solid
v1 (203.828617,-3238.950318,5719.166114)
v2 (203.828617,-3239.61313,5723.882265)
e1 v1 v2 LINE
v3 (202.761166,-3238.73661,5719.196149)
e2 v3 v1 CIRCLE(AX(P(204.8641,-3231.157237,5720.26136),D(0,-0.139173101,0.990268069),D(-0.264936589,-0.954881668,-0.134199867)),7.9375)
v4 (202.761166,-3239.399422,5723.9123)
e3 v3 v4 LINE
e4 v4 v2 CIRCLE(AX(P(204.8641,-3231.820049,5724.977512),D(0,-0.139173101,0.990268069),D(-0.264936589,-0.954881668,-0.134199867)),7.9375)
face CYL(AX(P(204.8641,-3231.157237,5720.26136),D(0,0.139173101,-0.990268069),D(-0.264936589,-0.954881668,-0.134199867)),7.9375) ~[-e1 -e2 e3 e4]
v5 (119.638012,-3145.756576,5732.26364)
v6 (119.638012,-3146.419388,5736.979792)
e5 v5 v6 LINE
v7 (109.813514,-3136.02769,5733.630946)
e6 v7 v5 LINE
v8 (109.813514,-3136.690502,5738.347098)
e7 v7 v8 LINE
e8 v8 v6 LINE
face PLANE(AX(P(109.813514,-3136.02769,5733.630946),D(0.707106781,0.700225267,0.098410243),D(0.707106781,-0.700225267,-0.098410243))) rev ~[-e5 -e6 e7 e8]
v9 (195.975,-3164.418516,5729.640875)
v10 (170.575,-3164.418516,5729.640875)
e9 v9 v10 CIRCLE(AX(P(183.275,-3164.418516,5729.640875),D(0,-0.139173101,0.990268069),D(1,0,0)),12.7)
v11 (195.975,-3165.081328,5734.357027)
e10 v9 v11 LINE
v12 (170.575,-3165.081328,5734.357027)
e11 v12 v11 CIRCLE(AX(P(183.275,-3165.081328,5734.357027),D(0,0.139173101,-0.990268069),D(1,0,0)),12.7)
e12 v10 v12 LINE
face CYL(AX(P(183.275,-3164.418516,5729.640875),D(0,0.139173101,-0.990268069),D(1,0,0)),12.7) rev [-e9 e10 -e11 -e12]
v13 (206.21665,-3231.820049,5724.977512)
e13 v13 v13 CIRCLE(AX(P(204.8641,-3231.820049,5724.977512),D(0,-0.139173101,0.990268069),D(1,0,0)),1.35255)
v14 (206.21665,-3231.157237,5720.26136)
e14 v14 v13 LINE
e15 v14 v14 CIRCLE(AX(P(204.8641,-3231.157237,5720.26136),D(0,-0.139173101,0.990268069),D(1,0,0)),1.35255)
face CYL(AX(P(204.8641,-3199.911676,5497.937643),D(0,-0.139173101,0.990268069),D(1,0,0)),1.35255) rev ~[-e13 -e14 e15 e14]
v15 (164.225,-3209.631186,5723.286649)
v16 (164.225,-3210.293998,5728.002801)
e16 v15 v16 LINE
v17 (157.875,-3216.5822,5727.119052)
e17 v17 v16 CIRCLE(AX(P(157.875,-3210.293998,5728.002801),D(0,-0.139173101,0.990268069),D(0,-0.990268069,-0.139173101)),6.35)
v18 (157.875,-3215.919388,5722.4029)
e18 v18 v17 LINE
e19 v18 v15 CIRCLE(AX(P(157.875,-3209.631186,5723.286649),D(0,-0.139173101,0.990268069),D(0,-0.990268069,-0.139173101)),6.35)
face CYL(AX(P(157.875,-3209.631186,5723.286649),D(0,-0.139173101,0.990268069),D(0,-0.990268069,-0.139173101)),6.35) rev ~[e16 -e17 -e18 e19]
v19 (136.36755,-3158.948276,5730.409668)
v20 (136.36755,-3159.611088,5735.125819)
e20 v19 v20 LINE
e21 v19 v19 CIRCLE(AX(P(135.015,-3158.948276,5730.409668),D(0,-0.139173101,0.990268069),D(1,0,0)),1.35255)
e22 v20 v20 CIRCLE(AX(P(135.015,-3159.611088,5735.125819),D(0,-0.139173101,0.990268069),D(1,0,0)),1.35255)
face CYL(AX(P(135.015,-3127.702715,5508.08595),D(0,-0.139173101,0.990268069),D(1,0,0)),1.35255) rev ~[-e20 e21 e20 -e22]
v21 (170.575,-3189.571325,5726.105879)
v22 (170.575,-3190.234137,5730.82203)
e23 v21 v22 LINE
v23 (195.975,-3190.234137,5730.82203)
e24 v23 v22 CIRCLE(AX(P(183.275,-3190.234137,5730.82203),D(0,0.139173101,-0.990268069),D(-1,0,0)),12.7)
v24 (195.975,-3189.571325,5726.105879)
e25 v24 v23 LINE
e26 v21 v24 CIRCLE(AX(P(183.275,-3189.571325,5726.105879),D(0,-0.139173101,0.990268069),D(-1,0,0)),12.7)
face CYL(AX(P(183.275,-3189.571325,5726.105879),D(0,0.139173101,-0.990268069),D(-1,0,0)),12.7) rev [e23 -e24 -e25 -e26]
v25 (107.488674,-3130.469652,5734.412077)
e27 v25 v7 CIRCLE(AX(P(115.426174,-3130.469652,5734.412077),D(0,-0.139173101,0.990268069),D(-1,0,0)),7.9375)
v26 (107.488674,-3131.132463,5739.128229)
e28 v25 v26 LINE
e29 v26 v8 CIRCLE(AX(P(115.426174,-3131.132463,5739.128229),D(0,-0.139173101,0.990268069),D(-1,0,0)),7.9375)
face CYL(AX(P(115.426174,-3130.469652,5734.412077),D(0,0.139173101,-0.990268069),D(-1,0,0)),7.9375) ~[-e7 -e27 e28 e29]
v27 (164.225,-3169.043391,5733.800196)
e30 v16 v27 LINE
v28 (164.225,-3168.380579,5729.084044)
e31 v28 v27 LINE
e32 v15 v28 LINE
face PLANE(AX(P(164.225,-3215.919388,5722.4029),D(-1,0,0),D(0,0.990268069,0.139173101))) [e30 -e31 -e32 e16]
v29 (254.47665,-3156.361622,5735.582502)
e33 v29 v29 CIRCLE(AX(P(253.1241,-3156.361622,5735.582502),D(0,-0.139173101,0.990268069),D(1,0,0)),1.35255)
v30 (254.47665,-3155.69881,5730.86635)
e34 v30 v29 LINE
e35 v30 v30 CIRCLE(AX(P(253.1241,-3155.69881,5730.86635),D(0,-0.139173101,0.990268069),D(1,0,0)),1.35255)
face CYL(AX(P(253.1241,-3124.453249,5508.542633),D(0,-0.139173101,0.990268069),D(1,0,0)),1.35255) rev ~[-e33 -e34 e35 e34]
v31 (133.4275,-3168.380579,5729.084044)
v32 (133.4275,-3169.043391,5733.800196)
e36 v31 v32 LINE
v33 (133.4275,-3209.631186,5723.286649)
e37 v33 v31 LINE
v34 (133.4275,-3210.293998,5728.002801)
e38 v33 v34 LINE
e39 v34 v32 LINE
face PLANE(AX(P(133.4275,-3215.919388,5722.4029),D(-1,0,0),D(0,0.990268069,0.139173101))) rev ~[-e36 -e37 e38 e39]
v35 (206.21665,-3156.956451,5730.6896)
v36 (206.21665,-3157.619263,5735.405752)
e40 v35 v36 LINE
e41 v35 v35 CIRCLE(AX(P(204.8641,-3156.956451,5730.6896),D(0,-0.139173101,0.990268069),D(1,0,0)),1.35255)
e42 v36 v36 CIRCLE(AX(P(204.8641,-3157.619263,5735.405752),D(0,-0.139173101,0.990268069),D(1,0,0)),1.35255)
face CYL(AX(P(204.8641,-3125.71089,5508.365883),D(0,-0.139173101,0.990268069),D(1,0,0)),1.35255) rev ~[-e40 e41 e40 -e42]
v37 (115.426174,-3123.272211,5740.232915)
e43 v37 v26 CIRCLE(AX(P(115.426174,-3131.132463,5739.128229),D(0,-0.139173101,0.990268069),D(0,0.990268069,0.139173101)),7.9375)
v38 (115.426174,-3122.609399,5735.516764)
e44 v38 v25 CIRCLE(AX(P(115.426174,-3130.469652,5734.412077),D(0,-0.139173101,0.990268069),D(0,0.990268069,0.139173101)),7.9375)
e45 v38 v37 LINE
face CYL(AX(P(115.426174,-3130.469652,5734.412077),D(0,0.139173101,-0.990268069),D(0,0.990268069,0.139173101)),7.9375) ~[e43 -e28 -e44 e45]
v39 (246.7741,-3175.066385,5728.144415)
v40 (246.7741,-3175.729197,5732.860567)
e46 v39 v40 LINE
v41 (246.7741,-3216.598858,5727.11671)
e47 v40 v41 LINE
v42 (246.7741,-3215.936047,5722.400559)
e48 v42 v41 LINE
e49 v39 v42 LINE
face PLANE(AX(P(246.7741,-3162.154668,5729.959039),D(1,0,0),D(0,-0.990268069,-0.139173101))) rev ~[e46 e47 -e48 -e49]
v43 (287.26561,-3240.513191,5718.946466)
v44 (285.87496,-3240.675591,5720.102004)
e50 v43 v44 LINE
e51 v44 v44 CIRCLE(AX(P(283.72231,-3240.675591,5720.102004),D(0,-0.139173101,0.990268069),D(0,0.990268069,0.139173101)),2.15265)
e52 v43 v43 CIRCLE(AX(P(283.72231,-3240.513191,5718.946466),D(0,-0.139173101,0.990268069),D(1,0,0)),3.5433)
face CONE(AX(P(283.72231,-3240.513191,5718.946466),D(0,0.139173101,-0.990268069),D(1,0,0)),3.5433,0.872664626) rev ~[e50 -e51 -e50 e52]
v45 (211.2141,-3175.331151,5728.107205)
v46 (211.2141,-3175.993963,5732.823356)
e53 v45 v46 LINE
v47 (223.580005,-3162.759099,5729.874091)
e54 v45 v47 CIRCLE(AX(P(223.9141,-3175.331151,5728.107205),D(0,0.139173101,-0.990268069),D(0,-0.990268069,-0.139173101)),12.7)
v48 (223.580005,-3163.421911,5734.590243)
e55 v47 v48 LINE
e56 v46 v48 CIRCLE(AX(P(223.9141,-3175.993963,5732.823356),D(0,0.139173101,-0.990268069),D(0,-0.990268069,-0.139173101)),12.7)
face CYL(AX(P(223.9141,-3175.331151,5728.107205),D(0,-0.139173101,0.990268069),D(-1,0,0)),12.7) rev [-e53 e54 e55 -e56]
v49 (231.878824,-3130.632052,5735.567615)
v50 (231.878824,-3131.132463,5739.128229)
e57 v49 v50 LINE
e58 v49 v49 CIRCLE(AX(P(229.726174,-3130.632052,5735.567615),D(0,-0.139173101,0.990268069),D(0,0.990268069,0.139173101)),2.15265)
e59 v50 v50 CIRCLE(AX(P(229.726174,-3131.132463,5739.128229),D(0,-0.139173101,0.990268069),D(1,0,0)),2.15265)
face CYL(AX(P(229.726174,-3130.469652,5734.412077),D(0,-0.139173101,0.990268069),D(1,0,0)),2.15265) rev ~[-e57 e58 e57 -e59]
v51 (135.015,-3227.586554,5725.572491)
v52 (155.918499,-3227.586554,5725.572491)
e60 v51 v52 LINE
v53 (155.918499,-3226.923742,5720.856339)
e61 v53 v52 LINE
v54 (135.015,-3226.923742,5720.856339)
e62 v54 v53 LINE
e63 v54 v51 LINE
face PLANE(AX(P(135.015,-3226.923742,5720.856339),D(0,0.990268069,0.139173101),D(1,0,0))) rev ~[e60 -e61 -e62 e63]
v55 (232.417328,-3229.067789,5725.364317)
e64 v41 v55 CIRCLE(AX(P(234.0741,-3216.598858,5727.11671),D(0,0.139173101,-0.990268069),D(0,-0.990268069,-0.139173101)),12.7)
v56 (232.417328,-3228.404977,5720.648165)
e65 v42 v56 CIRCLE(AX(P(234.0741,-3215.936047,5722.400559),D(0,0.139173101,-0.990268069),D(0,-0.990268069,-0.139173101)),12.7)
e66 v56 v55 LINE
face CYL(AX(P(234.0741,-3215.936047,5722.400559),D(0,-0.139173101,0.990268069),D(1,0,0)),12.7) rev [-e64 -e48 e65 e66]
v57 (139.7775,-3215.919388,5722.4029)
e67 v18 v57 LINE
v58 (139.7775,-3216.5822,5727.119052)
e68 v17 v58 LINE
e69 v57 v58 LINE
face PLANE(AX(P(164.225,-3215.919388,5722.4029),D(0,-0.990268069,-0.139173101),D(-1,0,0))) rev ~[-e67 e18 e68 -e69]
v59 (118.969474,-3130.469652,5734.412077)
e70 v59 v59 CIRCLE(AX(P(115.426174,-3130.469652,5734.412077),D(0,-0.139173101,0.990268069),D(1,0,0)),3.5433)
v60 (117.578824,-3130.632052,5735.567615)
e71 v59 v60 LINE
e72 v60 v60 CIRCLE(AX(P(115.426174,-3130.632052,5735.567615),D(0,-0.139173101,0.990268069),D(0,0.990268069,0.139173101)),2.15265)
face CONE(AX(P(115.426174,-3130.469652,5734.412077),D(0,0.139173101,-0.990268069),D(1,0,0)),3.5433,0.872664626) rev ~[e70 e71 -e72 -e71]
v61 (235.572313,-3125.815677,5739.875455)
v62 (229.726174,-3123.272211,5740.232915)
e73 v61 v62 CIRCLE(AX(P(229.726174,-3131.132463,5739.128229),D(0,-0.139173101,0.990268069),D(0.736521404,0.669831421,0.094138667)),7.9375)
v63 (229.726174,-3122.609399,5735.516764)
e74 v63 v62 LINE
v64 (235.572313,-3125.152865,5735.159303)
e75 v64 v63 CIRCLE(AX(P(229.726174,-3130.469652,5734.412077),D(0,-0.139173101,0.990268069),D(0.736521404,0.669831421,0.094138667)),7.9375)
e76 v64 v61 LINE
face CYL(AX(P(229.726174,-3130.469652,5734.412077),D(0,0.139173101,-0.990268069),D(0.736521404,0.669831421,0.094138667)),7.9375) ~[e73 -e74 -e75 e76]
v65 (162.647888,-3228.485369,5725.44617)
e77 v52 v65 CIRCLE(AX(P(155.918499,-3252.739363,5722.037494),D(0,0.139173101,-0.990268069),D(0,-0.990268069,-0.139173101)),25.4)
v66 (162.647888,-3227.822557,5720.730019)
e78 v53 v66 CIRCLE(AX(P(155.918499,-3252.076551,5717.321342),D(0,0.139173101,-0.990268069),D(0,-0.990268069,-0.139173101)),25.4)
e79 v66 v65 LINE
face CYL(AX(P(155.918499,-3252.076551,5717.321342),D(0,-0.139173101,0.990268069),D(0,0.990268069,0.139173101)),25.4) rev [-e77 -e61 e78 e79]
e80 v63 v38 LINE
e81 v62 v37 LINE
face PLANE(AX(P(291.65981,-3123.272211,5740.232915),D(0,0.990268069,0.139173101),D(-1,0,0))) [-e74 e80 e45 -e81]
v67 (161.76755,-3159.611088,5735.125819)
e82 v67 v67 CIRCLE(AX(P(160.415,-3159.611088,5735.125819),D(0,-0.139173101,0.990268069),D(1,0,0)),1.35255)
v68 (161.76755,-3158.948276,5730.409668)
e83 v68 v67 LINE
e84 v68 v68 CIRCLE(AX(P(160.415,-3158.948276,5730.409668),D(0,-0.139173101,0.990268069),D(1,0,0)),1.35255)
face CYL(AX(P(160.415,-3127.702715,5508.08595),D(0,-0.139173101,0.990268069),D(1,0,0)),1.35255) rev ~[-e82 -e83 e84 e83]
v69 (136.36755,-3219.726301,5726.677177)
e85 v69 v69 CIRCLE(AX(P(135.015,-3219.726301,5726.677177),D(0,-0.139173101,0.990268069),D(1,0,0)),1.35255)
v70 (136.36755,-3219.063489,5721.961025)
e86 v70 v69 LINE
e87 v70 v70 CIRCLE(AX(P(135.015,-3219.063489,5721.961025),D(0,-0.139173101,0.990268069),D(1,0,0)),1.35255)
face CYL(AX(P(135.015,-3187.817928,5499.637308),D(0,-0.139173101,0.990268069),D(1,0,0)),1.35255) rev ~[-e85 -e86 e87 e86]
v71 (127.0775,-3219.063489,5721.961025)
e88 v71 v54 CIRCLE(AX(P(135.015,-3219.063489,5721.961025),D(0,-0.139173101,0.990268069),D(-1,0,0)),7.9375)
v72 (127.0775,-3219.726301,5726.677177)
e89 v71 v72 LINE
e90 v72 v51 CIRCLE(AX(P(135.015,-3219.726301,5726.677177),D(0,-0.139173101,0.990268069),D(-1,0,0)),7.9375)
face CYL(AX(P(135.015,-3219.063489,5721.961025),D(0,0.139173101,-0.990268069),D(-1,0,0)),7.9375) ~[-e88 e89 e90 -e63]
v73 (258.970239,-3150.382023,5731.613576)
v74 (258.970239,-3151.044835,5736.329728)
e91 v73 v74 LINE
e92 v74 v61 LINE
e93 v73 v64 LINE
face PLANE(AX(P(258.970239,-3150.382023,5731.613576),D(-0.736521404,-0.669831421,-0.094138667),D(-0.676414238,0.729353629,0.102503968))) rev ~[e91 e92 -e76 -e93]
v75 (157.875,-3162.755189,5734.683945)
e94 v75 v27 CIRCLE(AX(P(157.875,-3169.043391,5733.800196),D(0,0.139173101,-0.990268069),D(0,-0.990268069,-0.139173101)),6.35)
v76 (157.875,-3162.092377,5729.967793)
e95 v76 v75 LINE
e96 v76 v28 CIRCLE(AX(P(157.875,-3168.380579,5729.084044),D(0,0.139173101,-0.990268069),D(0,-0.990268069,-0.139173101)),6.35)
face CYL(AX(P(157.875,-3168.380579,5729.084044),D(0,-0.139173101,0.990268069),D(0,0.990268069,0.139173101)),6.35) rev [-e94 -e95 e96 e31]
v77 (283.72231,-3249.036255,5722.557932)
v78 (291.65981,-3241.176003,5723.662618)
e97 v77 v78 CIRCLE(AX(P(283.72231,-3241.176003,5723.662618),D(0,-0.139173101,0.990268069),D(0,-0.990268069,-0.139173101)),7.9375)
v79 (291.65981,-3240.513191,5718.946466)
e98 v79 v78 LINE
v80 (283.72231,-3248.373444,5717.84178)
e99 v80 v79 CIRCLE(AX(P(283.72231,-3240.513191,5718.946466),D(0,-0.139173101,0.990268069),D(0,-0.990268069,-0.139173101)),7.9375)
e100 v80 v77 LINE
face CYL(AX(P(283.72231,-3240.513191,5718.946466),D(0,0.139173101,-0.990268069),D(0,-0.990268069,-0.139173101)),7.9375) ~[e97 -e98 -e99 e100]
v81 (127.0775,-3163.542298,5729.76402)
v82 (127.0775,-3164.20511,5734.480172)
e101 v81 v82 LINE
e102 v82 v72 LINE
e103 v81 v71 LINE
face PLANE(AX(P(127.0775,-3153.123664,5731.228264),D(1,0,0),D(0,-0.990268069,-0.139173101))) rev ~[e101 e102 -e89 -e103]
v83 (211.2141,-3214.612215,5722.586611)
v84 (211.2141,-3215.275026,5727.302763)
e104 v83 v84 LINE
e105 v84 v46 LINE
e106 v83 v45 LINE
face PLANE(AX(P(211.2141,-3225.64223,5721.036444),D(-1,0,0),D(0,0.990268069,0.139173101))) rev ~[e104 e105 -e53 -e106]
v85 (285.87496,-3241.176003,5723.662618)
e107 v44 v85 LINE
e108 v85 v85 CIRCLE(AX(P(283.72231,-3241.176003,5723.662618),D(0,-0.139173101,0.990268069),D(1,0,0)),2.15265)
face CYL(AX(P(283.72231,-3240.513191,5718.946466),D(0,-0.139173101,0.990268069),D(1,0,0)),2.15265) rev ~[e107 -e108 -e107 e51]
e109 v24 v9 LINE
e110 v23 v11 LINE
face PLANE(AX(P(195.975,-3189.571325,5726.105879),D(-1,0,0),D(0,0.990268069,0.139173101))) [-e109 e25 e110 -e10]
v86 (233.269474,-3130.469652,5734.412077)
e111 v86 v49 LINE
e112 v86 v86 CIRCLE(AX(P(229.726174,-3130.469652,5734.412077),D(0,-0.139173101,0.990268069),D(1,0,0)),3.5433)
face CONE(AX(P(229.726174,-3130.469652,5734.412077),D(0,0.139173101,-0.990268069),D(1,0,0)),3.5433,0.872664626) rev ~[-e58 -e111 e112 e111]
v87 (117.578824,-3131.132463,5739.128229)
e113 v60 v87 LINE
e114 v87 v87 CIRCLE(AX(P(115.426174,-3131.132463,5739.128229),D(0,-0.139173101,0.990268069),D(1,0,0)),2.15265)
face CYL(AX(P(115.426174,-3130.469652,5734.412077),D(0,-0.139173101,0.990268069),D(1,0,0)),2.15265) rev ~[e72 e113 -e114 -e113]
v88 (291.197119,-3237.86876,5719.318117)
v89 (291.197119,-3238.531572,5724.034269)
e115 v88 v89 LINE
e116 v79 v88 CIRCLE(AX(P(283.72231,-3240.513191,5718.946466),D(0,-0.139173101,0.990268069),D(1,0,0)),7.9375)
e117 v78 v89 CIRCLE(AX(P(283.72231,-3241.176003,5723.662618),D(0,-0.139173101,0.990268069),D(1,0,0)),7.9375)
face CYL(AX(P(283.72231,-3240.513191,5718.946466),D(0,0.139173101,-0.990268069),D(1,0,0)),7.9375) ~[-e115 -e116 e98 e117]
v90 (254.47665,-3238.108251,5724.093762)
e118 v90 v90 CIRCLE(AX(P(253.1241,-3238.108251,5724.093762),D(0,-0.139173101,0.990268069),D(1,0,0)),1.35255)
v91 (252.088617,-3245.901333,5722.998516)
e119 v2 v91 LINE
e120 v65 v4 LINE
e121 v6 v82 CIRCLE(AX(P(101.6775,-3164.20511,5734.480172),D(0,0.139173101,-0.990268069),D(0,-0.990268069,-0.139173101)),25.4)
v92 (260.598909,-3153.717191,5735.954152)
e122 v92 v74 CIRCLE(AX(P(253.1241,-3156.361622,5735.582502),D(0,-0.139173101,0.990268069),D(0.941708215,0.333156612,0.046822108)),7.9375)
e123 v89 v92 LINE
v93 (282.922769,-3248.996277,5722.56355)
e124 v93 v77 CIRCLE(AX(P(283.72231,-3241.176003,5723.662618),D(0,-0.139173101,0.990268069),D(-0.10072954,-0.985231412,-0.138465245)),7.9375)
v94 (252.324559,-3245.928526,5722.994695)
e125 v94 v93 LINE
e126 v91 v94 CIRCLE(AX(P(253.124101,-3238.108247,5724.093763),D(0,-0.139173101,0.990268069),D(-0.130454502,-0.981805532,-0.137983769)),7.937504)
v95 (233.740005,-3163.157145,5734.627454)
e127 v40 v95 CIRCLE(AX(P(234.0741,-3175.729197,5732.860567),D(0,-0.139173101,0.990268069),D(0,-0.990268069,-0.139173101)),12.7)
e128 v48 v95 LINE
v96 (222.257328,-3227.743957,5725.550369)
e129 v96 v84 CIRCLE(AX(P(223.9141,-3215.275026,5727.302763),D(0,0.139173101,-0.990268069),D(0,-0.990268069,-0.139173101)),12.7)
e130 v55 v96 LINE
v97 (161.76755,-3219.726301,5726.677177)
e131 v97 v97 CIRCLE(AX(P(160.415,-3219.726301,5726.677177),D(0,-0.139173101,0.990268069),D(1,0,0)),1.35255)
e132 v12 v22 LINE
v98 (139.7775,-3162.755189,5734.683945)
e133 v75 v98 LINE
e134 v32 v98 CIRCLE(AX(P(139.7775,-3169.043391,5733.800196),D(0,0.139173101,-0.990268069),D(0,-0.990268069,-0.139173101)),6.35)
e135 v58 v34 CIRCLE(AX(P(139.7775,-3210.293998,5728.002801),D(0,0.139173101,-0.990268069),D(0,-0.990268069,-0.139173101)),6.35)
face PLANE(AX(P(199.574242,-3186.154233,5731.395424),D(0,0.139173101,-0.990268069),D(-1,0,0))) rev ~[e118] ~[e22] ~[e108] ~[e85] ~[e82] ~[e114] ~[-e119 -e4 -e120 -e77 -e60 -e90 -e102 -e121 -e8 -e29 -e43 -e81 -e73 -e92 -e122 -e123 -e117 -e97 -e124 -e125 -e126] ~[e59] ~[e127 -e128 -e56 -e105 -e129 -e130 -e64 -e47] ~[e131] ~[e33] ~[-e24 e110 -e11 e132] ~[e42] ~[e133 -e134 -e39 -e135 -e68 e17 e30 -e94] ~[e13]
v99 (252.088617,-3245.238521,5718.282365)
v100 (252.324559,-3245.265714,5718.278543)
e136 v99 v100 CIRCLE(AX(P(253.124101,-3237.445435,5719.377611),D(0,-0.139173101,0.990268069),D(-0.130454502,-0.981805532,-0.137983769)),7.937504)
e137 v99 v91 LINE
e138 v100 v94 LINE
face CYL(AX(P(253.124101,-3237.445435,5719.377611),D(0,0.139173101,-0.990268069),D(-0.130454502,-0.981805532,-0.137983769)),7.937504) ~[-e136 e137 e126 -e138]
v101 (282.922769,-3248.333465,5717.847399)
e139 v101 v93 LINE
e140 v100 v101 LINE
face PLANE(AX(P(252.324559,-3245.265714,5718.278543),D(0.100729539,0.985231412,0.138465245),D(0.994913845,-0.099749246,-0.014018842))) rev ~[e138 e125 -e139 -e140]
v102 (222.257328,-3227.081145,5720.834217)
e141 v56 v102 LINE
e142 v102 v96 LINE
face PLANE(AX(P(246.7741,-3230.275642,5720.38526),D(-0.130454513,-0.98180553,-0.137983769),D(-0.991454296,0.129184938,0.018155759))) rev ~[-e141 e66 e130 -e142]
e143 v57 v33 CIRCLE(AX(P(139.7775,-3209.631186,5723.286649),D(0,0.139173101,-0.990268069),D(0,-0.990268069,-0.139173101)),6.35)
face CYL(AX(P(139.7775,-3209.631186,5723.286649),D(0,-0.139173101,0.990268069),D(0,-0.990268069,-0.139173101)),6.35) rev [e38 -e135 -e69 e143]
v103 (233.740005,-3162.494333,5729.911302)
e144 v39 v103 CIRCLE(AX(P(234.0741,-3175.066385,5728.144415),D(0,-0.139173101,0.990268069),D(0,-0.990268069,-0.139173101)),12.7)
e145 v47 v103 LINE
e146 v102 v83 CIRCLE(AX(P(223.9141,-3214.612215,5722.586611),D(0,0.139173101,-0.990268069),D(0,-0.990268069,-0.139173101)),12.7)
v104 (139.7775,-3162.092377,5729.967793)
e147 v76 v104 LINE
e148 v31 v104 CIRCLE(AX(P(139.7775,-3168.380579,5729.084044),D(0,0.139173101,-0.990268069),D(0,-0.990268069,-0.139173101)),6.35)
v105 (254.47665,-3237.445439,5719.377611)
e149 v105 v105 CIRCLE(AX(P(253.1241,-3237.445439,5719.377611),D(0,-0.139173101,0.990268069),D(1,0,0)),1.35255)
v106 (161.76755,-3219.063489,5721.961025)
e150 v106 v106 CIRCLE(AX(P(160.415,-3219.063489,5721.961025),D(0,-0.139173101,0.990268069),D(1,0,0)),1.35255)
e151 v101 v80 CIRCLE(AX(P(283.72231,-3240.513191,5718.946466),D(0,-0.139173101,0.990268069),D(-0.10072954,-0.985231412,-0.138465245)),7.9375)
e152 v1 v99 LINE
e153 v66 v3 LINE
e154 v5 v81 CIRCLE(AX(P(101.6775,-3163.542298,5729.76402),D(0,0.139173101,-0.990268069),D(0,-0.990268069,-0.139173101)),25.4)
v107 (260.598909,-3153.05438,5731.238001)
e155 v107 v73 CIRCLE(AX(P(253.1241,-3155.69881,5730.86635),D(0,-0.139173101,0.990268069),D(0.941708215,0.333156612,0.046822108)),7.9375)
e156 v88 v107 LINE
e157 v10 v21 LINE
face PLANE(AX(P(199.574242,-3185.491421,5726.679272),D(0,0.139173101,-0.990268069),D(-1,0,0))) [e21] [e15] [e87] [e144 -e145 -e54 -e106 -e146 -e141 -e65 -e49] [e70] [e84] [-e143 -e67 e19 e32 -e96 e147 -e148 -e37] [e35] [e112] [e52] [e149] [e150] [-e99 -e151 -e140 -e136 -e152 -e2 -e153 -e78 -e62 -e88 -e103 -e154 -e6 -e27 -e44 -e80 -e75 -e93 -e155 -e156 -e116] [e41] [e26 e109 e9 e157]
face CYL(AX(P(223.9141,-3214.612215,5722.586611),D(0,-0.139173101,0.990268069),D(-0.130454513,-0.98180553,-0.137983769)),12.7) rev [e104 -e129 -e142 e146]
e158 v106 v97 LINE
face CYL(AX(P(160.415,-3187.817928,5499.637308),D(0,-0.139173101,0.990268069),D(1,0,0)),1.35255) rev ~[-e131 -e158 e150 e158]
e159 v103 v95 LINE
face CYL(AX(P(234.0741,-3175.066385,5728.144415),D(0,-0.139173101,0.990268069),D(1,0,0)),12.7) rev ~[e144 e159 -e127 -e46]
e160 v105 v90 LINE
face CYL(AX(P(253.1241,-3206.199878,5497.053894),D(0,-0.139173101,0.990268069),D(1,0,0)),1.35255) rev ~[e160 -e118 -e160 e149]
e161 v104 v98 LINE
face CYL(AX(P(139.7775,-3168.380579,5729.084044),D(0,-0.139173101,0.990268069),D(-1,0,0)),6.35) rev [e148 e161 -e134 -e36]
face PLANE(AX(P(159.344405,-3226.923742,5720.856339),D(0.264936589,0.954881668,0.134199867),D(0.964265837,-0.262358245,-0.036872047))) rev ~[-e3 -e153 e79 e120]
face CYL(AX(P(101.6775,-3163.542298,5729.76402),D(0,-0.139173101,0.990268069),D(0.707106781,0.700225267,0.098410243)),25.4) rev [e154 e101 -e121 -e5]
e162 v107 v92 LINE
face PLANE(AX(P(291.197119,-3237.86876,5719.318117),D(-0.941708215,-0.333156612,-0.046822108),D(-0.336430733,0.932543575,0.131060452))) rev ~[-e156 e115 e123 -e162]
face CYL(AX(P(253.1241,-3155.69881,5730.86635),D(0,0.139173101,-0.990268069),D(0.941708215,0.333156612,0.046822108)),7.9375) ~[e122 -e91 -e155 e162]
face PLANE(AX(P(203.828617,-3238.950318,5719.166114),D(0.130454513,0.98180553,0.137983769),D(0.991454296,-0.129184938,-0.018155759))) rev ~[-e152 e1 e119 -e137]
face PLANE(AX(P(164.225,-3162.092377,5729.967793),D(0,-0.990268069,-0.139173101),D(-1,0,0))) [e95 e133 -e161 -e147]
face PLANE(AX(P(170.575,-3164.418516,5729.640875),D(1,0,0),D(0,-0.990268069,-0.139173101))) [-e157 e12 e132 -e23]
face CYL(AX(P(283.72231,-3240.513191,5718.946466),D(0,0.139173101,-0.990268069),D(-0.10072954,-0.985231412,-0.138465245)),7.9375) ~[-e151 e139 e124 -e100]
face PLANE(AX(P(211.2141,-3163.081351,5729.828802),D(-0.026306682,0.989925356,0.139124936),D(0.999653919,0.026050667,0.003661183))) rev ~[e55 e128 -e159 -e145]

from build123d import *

# Parameters (mm, degrees)
SKETCH2_W                                         = 184.171135827
SKETCH2_H                                         = 127
BOSS_EXTRUDE1_DEPTH                               = 4.7625
CSK_FOR_6_FLAT_HEAD_MACHINE_SCREW_100_D           = 4.3053
CSK_FOR_6_FLAT_HEAD_MACHINE_SCREW_100_CSINK_D     = 7.0866
CSK_FOR_6_FLAT_HEAD_MACHINE_SCREW_100_CSINK_ANGLE = 100
CUT_EXTRUDE1_DEPTH                                = 2440.147405433
F_2_CLEARANCE_HOLE1_D                             = 2.7051
CUT_EXTRUDE2_DEPTH                                = 4.7625
FILLET1_R                                         = 25.4
SKETCH10_W                                        = 30.7975
SKETCH10_H                                        = 54.356
CUT_EXTRUDE3_DEPTH                                = 2440.147405433
FILLET2_R                                         = 6.35
CUT_EXTRUDE4_DEPTH                                = 2440.147405433
FILLET3_R                                         = 12.7


with BuildPart() as part:
    # Sketch2 → Boss-Extrude1 (new body)
    with BuildSketch(Plane(origin=(-1e-09, -851.606445574, 6059.494718221), x_dir=(-1, 0, 0), z_dir=(1.0892556339675399e-13, 0.13917310096006327, -0.9902680687415707))):
        with Locations((-199.574242123, -2357.490725166)):
            Rectangle(SKETCH2_W, SKETCH2_H)
    extrude(amount=BOSS_EXTRUDE1_DEPTH)

    # CSK for #6 Flat Head Machine Screw (100)1 (through all)
    with Locations(Plane(origin=(-1e-09, -850.94363368, 6054.778566544), x_dir=(-1, 0, 0), z_dir=(1.0707755897952407e-13, 0.13917310096005847, -0.9902680687415714))):
        with Locations((-115.42617421, -2301.928225166), (-229.72617421, -2301.928225166), (-283.722310037, -2413.053225166)):
            CounterSinkHole(CSK_FOR_6_FLAT_HEAD_MACHINE_SCREW_100_D / 2, CSK_FOR_6_FLAT_HEAD_MACHINE_SCREW_100_CSINK_D / 2, counter_sink_angle=CSK_FOR_6_FLAT_HEAD_MACHINE_SCREW_100_CSINK_ANGLE)

    # Sketch5 → Cut-Extrude1 (cut, through all)
    with BuildSketch(Plane(origin=(-1e-09, -850.94363368, 6054.778566544), x_dir=(-1, 0, 0), z_dir=(1.0707755897952407e-13, 0.13917310096005847, -0.9902680687415714))):
        with BuildLine():
            Line((-195.975000021, -2361.610724808), (-195.975000021, -2336.210724808))
            ThreePointArc((-195.975000021, -2336.210724808), (-183.275000021, -2323.510724808), (-170.575000021, -2336.210724808))
            Line((-170.575000021, -2336.210724808), (-170.575000021, -2361.610724808))
            ThreePointArc((-170.575000021, -2361.610724808), (-183.275000021, -2374.310724808), (-195.975000021, -2361.610724808))
        make_face()
    extrude(amount=-CUT_EXTRUDE1_DEPTH, mode=Mode.SUBTRACT)

    # #2 Clearance Hole1 (through all)
    with Locations(Plane(origin=(-1e-09, -850.94363368, 6054.778566544), x_dir=(-1, 0, 0), z_dir=(1.0707755897952407e-13, 0.13917310096005847, -0.9902680687415714))):
        with Locations((-135.015000021, -2391.392725166), (-160.415000021, -2391.392725166), (-160.415000021, -2330.686725166), (-135.015000021, -2330.686725166), (-204.864100021, -2328.675325166), (-204.864100021, -2403.605325166), (-253.124100021, -2409.955325166), (-253.124100021, -2327.405325166)):
            Hole(F_2_CLEARANCE_HOLE1_D / 2)

    # Sketch9 → Cut-Extrude2 (cut)
    with BuildSketch(Plane(origin=(-1e-09, -850.94363368, 6054.778566544), x_dir=(-1, 0, 0), z_dir=(1.0707755897952407e-13, 0.13917310096005847, -0.9902680687415714))):
        with BuildLine():
            Line((-252.324559302, -2417.852453814), (-282.922769318, -2420.950353814))
            ThreePointArc((-282.922769318, -2420.950353814), (-283.322030383, -2420.980625903), (-283.722310037, -2420.990725166))
            Line((-283.722310037, -2420.990725166), (-107.48867421, -2420.990725166))
            Line((-107.48867421, -2420.990725166), (-107.48867421, -2301.928225166))
            ThreePointArc((-107.48867421, -2301.928225166), (-108.092880421, -2304.96577491), (-109.813514134, -2307.540885241))
            Line((-109.813514134, -2307.540885241), (-127.077500021, -2324.804871128))
            Line((-127.077500021, -2324.804871128), (-127.077500021, -2391.392725166))
            ThreePointArc((-127.077500021, -2391.392725166), (-129.402339945, -2397.005385241), (-135.015000021, -2399.330225166))
            Line((-135.015000021, -2399.330225166), (-159.344404514, -2399.330225166))
            Line((-159.344404514, -2399.330225166), (-202.761165842, -2411.259185244))
            ThreePointArc((-202.761165842, -2411.259185244), (-203.291186027, -2411.385418213), (-203.828617327, -2411.474993637))
            Line((-203.828617327, -2411.474993637), (-252.088617327, -2417.824993637))
            ThreePointArc((-252.088617327, -2417.824993637), (-252.206485588, -2417.839606363), (-252.324559302, -2417.852453814))
        make_face()
        with BuildLine():
            Line((-291.659810037, -2293.990725166), (-291.659810037, -2413.053225166))
            ThreePointArc((-291.659810037, -2413.053225166), (-291.543281919, -2411.69812182), (-291.197118994, -2410.382806226))
            Line((-291.197118994, -2410.382806226), (-260.598908977, -2324.734906226))
            ThreePointArc((-260.598908977, -2324.734906226), (-259.919874258, -2323.303940185), (-258.970238667, -2322.036287154))
            Line((-258.970238667, -2322.036287154), (-235.572312857, -2296.559187154))
            ThreePointArc((-235.572312857, -2296.559187154), (-232.918913397, -2294.661154041), (-229.72617421, -2293.990725166))
            Line((-229.72617421, -2293.990725166), (-291.659810037, -2293.990725166))
        make_face()
        with BuildLine():
            ThreePointArc((-115.42617421, -2293.990725166), (-109.813514134, -2296.31556509), (-107.48867421, -2301.928225166))
            Line((-107.48867421, -2301.928225166), (-107.48867421, -2293.990725166))
            Line((-107.48867421, -2293.990725166), (-115.42617421, -2293.990725166))
        make_face()
        with BuildLine():
            Line((-291.659810037, -2420.990725166), (-283.722310037, -2420.990725166))
            ThreePointArc((-283.722310037, -2420.990725166), (-289.334970113, -2418.665885241), (-291.659810037, -2413.053225166))
            Line((-291.659810037, -2413.053225166), (-291.659810037, -2420.990725166))
        make_face()
    extrude(amount=-CUT_EXTRUDE2_DEPTH, mode=Mode.SUBTRACT)

    # Fillet1
    fillet1_edges = [part.edges().sort_by_distance(p)[0] for p in [
        (127.07750002, -3153.45506956, 5733.586339341),
        (159.344404514, -3227.255147975, 5723.214414719),
    ]]
    fillet(fillet1_edges, radius=FILLET1_R)

    # Sketch10 → Cut-Extrude3 (cut, through all)
    with BuildSketch(Plane(origin=(-1e-09, -850.94363368, 6054.778566544), x_dir=(-1, 0, 0), z_dir=(1.0707755897952407e-13, 0.13917310096005847, -0.9902680687415714))):
        with Locations((-148.826250021, -2361.039725166)):
            Rectangle(SKETCH10_W, SKETCH10_H)
    extrude(amount=-CUT_EXTRUDE3_DEPTH, mode=Mode.SUBTRACT)

    # Fillet2
    fillet2_edges = [part.edges().sort_by_distance(p)[0] for p in [
        (133.42750002, -3162.423782917, 5732.325868879),
        (133.42750002, -3216.250794061, 5724.760975804),
        (164.22500002, -3216.250794061, 5724.760975804),
        (164.22500002, -3162.423782917, 5732.325868879),
    ]]
    fillet(fillet2_edges, radius=FILLET2_R)

    # Sketch11 → Cut-Extrude4 (cut, through all)
    with BuildSketch(Plane(origin=(-1e-09, -850.94363368, 6054.778566544), x_dir=(-1, 0, 0), z_dir=(1.0707755897952407e-13, 0.13917310096005847, -0.9902680687415714))):
        Polygon((-246.774100021, -2333.924628802), (-246.774100021, -2402.715065895), (-211.214100021, -2398.036118527), (-211.214100021, -2334.860418276), align=None)
    extrude(amount=-CUT_EXTRUDE4_DEPTH, mode=Mode.SUBTRACT)

    # Fillet3
    fillet3_edges = [part.edges().sort_by_distance(p)[0] for p in [
        (246.77410002, -3162.486074379, 5732.317114385),
        (211.21410002, -3163.412756814, 5732.186877662),
        (211.21410002, -3225.973635493, 5723.394519553),
        (246.77410002, -3230.607047667, 5722.743335939),
    ]]
    fillet(fillet3_edges, radius=FILLET3_R)


solid = part.part
